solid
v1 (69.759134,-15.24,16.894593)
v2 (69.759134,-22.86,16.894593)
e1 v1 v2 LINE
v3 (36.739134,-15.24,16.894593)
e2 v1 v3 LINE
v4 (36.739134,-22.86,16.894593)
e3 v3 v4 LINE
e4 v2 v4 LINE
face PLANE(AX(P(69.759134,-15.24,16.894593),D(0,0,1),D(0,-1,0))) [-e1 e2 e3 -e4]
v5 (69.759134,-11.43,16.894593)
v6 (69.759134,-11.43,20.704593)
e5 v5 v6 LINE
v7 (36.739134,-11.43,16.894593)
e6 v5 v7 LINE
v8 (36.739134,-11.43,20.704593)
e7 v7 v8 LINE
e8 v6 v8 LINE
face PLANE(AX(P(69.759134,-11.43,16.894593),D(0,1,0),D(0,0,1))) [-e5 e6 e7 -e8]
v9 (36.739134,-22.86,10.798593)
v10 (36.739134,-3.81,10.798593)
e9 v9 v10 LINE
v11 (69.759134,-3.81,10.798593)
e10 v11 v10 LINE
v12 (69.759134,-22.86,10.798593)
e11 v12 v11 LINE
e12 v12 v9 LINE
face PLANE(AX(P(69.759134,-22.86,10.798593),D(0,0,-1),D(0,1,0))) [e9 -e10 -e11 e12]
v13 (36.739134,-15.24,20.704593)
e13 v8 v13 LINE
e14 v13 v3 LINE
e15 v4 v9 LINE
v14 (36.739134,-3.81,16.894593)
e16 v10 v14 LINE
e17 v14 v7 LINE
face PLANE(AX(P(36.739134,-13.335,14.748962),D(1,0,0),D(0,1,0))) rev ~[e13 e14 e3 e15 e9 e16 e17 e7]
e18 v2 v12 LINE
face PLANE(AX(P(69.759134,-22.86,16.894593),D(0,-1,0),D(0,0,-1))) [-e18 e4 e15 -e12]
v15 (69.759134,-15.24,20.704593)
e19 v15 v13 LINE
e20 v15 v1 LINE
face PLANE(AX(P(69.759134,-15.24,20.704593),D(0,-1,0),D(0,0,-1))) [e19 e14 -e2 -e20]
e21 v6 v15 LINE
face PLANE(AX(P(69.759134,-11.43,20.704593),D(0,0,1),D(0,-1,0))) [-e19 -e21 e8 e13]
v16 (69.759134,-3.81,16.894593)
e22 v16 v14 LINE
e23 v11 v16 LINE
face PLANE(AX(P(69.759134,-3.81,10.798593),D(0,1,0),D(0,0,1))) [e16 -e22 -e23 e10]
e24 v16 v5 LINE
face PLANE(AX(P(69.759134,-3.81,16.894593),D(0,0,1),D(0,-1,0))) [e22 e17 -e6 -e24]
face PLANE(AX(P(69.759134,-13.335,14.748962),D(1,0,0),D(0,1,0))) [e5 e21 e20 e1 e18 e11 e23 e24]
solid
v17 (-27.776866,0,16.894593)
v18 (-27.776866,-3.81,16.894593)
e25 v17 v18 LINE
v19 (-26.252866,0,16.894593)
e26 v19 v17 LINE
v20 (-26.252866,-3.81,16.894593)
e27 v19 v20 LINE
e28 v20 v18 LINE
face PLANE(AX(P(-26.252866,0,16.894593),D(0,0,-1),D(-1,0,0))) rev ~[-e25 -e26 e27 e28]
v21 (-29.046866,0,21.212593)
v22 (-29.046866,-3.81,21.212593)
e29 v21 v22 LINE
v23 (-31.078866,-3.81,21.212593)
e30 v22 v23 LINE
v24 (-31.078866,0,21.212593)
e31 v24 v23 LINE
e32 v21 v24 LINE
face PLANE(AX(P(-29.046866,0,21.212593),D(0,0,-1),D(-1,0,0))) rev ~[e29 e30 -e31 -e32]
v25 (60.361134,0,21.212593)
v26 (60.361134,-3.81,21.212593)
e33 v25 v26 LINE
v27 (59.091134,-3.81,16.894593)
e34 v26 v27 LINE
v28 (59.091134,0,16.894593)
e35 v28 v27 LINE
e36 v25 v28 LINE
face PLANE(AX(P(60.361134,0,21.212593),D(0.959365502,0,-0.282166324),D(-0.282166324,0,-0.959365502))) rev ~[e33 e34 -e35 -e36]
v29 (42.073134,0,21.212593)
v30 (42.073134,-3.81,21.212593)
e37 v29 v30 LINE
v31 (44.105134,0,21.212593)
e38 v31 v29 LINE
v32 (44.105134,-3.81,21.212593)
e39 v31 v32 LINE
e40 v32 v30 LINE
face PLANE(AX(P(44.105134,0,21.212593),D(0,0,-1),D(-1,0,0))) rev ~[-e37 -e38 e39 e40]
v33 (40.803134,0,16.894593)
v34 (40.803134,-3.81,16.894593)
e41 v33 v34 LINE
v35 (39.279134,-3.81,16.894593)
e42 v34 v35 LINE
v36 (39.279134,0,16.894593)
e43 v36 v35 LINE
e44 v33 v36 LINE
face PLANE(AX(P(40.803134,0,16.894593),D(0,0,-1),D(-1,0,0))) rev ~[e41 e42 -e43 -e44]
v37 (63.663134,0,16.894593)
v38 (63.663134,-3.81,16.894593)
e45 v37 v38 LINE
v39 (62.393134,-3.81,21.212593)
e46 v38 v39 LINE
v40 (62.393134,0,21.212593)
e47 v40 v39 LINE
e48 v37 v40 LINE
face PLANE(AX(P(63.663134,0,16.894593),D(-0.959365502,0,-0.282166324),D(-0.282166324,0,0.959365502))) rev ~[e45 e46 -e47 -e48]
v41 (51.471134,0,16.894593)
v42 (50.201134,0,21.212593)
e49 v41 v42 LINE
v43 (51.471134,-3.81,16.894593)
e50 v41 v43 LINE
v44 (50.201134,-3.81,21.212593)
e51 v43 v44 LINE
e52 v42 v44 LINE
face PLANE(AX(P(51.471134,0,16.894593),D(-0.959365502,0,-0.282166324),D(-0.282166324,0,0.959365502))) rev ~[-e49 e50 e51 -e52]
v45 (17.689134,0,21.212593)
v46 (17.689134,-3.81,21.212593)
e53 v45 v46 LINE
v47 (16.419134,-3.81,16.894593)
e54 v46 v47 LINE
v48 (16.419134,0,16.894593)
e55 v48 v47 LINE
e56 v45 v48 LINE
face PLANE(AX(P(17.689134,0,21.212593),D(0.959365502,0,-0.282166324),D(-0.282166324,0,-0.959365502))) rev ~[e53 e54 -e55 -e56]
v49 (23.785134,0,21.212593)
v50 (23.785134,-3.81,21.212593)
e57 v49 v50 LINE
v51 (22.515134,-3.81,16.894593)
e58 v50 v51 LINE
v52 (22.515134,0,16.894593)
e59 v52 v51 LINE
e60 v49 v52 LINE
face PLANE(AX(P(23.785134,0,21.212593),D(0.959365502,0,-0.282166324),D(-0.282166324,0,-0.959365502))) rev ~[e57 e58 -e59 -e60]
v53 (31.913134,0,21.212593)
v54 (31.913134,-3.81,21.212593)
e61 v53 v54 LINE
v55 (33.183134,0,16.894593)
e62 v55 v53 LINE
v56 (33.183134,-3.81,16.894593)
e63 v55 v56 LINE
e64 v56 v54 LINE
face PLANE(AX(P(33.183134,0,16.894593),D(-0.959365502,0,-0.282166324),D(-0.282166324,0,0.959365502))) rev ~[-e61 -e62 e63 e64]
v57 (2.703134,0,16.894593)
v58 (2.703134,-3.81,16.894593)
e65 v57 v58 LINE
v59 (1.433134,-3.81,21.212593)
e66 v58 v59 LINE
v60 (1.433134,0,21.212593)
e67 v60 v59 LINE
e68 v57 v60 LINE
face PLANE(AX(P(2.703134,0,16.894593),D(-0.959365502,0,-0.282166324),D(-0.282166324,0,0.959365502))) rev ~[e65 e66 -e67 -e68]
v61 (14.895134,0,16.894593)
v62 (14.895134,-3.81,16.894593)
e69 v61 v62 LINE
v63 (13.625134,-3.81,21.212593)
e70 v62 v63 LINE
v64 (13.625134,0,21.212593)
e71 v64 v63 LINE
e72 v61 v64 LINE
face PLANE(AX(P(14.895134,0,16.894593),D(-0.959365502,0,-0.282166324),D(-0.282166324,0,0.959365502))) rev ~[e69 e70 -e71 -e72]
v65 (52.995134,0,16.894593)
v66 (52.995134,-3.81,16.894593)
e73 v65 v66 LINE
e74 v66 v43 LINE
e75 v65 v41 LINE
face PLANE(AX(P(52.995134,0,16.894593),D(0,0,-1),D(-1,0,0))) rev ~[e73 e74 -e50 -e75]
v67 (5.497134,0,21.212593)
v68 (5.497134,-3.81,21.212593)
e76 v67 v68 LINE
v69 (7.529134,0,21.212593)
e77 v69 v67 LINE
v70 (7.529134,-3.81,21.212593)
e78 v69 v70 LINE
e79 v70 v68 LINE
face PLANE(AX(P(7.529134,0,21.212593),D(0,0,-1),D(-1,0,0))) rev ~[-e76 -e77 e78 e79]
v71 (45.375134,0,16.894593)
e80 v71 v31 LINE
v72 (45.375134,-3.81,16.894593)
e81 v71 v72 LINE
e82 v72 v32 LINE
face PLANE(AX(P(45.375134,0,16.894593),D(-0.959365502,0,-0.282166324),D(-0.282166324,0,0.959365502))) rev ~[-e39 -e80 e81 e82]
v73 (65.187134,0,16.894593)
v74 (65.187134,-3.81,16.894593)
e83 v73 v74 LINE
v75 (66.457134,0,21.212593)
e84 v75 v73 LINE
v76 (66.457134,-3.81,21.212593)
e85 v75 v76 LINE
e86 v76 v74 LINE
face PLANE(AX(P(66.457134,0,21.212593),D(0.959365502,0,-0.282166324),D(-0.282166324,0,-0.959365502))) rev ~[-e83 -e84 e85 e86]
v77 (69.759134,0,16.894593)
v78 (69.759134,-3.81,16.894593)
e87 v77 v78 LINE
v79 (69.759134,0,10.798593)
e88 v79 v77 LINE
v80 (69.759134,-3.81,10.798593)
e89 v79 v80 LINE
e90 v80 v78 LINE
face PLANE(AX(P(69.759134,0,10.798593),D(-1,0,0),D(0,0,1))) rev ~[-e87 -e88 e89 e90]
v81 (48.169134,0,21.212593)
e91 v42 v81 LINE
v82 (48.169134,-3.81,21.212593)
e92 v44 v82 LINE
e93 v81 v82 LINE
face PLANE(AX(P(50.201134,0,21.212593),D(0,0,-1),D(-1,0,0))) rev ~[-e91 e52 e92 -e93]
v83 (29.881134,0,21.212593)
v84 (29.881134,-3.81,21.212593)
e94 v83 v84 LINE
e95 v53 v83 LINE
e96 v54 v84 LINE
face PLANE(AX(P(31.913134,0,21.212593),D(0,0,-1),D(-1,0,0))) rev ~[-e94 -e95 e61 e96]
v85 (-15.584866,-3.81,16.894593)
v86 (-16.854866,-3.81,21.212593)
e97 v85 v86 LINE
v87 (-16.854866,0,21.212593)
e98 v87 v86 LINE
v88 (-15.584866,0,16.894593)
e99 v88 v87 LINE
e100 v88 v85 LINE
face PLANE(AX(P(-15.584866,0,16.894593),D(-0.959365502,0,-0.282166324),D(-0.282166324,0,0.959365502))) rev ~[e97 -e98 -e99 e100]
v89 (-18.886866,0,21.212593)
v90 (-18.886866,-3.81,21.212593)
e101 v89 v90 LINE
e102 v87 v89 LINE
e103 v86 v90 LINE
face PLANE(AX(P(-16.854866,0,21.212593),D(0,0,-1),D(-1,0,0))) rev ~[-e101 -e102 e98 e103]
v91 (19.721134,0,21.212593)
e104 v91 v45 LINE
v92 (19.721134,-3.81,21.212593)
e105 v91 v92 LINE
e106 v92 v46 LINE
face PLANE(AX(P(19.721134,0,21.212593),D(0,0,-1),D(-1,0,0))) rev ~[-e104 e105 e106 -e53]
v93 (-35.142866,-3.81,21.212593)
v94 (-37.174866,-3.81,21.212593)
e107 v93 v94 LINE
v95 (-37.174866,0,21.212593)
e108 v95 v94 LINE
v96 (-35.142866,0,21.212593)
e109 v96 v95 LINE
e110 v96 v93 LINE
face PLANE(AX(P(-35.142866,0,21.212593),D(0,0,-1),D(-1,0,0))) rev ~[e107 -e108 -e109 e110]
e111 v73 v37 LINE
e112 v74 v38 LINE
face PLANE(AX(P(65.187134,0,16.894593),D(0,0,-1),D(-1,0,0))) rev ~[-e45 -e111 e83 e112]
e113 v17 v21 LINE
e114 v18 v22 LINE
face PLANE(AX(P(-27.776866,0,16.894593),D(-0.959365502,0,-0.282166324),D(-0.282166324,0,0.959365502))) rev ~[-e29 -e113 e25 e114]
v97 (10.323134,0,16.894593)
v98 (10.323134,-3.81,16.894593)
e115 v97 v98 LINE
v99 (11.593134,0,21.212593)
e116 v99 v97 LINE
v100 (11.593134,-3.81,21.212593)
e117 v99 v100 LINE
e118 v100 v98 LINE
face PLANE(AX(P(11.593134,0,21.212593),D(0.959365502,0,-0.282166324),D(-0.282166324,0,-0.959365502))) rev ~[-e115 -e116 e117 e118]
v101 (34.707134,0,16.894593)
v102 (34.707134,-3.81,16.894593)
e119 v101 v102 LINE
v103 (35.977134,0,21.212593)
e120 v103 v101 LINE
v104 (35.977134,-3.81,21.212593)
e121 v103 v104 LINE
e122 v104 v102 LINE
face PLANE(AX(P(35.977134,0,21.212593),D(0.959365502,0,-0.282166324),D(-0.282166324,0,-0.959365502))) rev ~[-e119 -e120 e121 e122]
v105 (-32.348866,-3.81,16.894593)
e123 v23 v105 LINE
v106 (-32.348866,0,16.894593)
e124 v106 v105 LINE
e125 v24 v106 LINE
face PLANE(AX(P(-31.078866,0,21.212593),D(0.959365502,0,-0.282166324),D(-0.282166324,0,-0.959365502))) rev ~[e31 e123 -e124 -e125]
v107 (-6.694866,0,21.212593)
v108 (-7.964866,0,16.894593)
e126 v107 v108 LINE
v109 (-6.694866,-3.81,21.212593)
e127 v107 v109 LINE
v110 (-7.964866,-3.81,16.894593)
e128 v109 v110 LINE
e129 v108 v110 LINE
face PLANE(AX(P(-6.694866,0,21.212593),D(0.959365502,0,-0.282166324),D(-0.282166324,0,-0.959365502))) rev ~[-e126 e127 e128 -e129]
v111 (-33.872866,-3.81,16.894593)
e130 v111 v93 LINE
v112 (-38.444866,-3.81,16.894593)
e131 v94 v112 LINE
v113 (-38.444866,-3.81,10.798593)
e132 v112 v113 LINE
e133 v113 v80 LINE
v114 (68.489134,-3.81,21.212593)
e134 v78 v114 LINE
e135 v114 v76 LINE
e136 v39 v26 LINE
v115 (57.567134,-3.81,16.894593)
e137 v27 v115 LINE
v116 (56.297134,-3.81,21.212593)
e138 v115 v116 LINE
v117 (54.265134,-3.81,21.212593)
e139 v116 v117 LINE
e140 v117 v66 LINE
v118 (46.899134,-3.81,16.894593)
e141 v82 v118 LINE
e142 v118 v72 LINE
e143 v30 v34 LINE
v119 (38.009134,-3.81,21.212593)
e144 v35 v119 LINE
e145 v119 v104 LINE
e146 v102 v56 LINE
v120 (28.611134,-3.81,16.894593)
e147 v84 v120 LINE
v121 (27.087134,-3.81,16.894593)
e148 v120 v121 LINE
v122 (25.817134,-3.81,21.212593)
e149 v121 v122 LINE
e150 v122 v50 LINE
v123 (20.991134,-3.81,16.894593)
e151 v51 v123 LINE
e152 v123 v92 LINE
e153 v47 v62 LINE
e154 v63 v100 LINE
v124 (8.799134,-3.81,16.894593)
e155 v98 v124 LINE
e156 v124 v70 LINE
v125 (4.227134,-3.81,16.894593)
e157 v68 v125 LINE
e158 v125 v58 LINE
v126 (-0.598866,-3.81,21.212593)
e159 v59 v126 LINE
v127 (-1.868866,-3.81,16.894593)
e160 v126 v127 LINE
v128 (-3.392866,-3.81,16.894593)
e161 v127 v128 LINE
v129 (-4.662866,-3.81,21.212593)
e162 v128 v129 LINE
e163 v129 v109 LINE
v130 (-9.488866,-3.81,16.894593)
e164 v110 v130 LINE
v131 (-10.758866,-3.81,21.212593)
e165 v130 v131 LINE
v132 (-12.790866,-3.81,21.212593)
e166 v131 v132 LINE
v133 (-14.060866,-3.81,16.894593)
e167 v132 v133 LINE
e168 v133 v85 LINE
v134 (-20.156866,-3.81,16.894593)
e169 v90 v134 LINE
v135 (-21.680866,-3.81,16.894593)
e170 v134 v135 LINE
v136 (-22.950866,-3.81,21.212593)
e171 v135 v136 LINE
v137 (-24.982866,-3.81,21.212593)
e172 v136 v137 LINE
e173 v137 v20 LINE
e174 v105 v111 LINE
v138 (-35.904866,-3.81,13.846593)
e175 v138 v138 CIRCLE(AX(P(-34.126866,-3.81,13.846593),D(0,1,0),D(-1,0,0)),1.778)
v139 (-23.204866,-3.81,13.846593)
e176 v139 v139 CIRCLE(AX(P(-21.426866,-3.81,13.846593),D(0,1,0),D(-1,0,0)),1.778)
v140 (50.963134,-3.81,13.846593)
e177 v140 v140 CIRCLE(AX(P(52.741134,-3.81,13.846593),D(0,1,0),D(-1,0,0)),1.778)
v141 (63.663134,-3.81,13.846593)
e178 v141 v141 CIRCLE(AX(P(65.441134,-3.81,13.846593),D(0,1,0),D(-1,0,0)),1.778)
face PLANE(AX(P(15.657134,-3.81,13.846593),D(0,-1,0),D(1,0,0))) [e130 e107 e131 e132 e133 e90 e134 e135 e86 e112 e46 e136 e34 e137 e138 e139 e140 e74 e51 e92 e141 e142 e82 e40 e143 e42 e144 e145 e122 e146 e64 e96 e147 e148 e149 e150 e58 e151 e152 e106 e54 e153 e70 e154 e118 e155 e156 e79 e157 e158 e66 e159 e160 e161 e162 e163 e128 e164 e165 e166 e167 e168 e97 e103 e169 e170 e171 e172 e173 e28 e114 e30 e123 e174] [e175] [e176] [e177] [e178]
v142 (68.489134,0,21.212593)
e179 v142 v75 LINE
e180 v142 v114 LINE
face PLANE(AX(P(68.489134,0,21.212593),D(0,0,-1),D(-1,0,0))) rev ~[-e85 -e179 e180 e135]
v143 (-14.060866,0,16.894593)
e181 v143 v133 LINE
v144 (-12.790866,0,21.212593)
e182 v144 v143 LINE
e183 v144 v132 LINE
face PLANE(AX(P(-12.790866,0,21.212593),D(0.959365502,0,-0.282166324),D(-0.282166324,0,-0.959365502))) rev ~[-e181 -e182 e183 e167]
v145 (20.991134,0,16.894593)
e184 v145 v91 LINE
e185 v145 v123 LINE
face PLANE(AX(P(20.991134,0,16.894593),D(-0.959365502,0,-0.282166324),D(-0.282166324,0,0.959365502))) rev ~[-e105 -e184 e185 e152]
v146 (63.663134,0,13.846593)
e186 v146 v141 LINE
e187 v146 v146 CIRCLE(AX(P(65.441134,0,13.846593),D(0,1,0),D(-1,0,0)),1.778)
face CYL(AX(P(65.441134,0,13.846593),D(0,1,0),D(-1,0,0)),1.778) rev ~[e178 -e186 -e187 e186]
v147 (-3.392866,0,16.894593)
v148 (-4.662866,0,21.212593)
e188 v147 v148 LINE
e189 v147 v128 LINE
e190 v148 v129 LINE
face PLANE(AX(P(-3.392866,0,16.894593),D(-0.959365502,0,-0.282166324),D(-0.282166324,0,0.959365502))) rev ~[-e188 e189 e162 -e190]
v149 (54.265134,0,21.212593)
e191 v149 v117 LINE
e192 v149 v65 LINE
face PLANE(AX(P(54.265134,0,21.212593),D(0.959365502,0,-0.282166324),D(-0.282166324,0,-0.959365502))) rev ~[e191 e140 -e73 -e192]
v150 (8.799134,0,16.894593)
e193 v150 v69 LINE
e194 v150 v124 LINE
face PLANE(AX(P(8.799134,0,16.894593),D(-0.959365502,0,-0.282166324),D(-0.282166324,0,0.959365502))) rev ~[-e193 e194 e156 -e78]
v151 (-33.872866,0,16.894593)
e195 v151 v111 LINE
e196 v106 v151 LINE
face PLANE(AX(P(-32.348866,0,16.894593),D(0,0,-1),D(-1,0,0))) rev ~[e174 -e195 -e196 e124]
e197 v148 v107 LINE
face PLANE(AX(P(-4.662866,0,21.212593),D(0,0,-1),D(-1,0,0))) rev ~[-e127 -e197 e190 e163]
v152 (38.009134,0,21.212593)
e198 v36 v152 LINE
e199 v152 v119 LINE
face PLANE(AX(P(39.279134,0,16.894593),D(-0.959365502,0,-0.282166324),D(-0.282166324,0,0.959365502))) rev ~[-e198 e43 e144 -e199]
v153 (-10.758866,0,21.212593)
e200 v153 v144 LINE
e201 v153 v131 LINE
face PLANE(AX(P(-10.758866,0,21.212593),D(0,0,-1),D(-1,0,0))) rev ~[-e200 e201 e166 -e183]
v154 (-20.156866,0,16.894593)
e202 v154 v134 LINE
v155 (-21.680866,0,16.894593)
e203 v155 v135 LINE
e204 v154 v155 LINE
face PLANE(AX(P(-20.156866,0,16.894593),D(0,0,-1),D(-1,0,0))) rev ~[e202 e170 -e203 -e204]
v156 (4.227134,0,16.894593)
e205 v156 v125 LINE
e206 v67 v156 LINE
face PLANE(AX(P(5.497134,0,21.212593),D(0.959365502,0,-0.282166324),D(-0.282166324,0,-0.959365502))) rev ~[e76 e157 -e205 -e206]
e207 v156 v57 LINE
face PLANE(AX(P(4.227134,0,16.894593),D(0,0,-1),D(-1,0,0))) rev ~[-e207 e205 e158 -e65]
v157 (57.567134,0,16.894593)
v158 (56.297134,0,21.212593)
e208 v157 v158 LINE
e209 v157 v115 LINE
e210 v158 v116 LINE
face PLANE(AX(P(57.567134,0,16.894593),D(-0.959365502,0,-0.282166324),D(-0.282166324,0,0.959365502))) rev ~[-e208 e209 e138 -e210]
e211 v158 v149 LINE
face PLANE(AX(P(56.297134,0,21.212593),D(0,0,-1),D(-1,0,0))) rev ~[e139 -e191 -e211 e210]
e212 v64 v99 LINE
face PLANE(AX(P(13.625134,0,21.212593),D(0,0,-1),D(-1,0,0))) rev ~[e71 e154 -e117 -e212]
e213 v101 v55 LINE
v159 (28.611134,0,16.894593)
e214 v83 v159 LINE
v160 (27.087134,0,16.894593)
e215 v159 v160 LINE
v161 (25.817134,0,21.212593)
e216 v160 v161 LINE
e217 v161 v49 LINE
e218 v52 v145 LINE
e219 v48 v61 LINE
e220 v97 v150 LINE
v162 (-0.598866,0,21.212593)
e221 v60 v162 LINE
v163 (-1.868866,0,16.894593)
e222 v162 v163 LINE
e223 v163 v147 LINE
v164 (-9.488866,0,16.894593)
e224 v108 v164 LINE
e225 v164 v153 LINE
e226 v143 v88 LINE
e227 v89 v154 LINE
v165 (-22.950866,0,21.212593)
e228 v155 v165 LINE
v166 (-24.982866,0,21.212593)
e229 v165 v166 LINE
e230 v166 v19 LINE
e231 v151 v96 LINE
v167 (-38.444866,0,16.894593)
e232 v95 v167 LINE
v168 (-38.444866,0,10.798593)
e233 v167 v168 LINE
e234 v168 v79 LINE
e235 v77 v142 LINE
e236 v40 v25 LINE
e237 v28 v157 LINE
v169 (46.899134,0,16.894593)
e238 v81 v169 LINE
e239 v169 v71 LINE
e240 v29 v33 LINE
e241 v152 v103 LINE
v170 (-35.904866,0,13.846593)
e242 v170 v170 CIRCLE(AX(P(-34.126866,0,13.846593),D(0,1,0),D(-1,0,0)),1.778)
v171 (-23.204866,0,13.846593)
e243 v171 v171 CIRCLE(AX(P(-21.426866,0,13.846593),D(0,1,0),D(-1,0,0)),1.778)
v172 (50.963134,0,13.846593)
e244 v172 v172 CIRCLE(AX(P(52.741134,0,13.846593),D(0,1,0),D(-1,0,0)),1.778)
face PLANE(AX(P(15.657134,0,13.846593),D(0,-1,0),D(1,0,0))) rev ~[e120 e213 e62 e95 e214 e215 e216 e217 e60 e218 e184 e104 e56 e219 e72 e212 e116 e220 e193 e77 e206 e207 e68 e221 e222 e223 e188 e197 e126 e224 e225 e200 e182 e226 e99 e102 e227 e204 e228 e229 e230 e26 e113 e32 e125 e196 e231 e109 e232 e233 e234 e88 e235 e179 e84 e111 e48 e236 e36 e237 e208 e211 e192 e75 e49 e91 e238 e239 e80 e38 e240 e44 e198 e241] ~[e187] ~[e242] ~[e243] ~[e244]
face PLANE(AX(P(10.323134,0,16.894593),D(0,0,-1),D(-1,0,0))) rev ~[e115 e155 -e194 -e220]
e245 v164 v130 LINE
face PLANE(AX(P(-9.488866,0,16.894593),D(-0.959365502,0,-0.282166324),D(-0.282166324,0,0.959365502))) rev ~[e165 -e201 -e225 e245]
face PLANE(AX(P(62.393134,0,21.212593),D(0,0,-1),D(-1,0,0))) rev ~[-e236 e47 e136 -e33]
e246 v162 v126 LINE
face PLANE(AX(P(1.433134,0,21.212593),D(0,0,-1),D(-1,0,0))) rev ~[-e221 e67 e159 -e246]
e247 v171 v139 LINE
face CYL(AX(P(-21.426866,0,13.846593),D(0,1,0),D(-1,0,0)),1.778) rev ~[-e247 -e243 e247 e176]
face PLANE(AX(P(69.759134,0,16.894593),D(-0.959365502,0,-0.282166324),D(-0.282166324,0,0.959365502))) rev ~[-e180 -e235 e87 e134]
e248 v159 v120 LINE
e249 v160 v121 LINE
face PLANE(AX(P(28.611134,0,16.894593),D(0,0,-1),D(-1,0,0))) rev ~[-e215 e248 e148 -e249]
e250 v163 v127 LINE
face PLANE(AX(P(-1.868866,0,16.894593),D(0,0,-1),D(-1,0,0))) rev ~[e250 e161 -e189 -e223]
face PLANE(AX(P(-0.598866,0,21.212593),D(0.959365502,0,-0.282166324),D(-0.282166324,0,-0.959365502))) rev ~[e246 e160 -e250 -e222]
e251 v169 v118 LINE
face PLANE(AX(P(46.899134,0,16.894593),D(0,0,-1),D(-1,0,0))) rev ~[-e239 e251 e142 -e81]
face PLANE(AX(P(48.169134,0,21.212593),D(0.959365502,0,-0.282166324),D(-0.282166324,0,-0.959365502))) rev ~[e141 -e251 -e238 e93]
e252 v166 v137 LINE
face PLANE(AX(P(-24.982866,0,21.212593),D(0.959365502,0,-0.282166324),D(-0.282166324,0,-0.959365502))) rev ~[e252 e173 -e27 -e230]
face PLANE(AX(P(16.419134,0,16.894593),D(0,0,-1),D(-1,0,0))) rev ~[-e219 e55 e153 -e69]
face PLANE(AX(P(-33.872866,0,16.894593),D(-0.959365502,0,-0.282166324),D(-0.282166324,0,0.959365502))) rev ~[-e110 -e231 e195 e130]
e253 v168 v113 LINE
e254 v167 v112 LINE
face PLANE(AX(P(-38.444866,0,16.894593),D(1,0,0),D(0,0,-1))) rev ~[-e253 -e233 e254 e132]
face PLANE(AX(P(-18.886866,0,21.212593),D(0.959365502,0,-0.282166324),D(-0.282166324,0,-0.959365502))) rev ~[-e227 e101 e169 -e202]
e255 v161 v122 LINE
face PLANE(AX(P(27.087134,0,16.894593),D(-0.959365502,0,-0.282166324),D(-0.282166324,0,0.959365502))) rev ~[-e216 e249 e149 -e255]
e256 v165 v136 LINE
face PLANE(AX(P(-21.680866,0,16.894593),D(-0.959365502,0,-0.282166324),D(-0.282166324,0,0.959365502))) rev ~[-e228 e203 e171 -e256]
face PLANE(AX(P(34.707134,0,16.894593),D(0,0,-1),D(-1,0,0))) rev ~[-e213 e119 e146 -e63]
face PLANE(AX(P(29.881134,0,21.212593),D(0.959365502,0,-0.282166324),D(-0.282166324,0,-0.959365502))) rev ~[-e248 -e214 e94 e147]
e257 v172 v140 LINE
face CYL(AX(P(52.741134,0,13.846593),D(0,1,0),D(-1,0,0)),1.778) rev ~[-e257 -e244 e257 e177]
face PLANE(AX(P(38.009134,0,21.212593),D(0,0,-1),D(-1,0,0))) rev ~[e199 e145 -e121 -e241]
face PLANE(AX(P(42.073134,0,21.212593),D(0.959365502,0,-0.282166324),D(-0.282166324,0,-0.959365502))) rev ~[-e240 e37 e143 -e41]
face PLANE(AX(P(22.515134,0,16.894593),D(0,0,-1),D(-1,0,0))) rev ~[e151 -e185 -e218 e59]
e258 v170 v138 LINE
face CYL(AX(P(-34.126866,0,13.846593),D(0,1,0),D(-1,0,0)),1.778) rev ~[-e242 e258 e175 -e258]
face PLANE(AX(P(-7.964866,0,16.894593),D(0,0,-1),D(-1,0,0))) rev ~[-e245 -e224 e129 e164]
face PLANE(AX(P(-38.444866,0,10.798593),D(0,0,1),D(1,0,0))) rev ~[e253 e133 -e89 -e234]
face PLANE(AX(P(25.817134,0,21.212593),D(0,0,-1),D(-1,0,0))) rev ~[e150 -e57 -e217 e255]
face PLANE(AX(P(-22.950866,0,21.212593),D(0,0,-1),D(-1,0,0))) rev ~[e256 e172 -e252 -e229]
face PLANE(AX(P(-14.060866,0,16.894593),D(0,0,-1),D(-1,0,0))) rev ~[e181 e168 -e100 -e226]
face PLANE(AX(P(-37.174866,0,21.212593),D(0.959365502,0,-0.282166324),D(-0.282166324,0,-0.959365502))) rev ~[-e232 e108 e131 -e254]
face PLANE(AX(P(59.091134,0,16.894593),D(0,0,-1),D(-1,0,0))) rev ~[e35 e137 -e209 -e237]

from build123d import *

# Parameters (mm, degrees)
F1_DEPTH = 3.81
F2_R     = 1.778
F3_DEPTH = 3.81
F6_DEPTH = 33.02


with BuildPart() as f1:
    # F0 (on Front) → F1 (new body)
    with BuildSketch(Plane.XZ):
        Polygon((-38.4448663006, 16.8945933835), (-38.4448663006, 10.7985933835), (69.7591336994, 10.7985933835), (69.7591336994, 16.8945933835), (65.1871336994, 16.8945933835), (63.6631336994, 16.8945933835), (59.0911336994, 16.8945933835), (57.5671336994, 16.8945933835), (52.9951336994, 16.8945933835), (51.4711336994, 16.8945933835), (46.8991336994, 16.8945933835), (45.3751336994, 16.8945933835), (40.8031336994, 16.8945933835), (39.2791336994, 16.8945933835), (34.7071336994, 16.8945933835), (33.1831336994, 16.8945933835), (28.6111336994, 16.8945933835), (27.0871336994, 16.8945933835), (22.5151336994, 16.8945933835), (20.9911336994, 16.8945933835), (16.4191336994, 16.8945933835), (14.8951336994, 16.8945933835), (10.3231336994, 16.8945933835), (8.7991336994, 16.8945933835), (4.2271336994, 16.8945933835), (2.7031336994, 16.8945933835), (-1.8688663006, 16.8945933835), (-3.3928663006, 16.8945933835), (-7.9648663006, 16.8945933835), (-9.4888663006, 16.8945933835), (-14.0608663006, 16.8945933835), (-15.5848663006, 16.8945933835), (-20.1568663006, 16.8945933835), (-21.6808663006, 16.8945933835), (-26.2528663006, 16.8945933835), (-27.7768663006, 16.8945933835), (-32.3488663006, 16.8945933835), (-33.8728663006, 16.8945933835), align=None)
        Polygon((-37.1748663006, 21.2125933835), (-38.4448663006, 16.8945933835), (-33.8728663006, 16.8945933835), (-35.1428663006, 21.2125933835), align=None)
        Polygon((65.1871336994, 16.8945933835), (69.7591336994, 16.8945933835), (68.4891336994, 21.2125933835), (66.4571336994, 21.2125933835), align=None)
        Polygon((-31.0788663006, 21.2125933835), (-32.3488663006, 16.8945933835), (-27.7768663006, 16.8945933835), (-29.0468663006, 21.2125933835), align=None)
        Polygon((59.0911336994, 16.8945933835), (63.6631336994, 16.8945933835), (62.3931336994, 21.2125933835), (60.3611336994, 21.2125933835), align=None)
        Polygon((-24.9828663006, 21.2125933835), (-26.2528663006, 16.8945933835), (-21.6808663006, 16.8945933835), (-22.9508663006, 21.2125933835), align=None)
        Polygon((52.9951336994, 16.8945933835), (57.5671336994, 16.8945933835), (56.2971336994, 21.2125933835), (54.2651336994, 21.2125933835), align=None)
        Polygon((-18.8868663006, 21.2125933835), (-20.1568663006, 16.8945933835), (-15.5848663006, 16.8945933835), (-16.8548663006, 21.2125933835), align=None)
        Polygon((46.8991336994, 16.8945933835), (51.4711336994, 16.8945933835), (50.2011336994, 21.2125933835), (48.1691336994, 21.2125933835), align=None)
        Polygon((-12.7908663006, 21.2125933835), (-14.0608663006, 16.8945933835), (-9.4888663006, 16.8945933835), (-10.7588663006, 21.2125933835), align=None)
        Polygon((40.8031336994, 16.8945933835), (45.3751336994, 16.8945933835), (44.1051336994, 21.2125933835), (42.0731336994, 21.2125933835), align=None)
        Polygon((-6.6948663006, 21.2125933835), (-7.9648663006, 16.8945933835), (-3.3928663006, 16.8945933835), (-4.6628663006, 21.2125933835), align=None)
        Polygon((34.7071336994, 16.8945933835), (39.2791336994, 16.8945933835), (38.0091336994, 21.2125933835), (35.9771336994, 21.2125933835), align=None)
        Polygon((-0.5988663006, 21.2125933835), (-1.8688663006, 16.8945933835), (2.7031336994, 16.8945933835), (1.4331336994, 21.2125933835), align=None)
        Polygon((28.6111336994, 16.8945933835), (33.1831336994, 16.8945933835), (31.9131336994, 21.2125933835), (29.8811336994, 21.2125933835), align=None)
        Polygon((5.4971336994, 21.2125933835), (4.2271336994, 16.8945933835), (8.7991336994, 16.8945933835), (7.5291336994, 21.2125933835), align=None)
        Polygon((22.5151336994, 16.8945933835), (27.0871336994, 16.8945933835), (25.8171336994, 21.2125933835), (23.7851336994, 21.2125933835), align=None)
        Polygon((11.5931336994, 21.2125933835), (10.3231336994, 16.8945933835), (14.8951336994, 16.8945933835), (13.6251336994, 21.2125933835), align=None)
        Polygon((16.4191336994, 16.8945933835), (20.9911336994, 16.8945933835), (19.7211336994, 21.2125933835), (17.6891336994, 21.2125933835), align=None)
    extrude(amount=F1_DEPTH)

    # F2 (on face) → F3 (cut, through all)
    with BuildSketch(Plane(origin=(0, 0, 0), x_dir=(-1, 0, 0), z_dir=(0, 1, 0))):
        with Locations((-52.7411336994, 13.8465933835)):
            Circle(F2_R)
        with Locations((-65.4411336994, 13.8465933835)):
            Circle(F2_R)
        with Locations((21.4268663006, 13.8465933835)):
            Circle(F2_R)
        with Locations((34.1268663006, 13.8465933835)):
            Circle(F2_R)
    extrude(amount=-F3_DEPTH, mode=Mode.SUBTRACT)


with BuildPart() as f6:
    # F5 (on plane+point) → F6 (new body)
    with BuildSketch(Plane.YZ.offset(69.7591336994)):
        Polygon((-22.86, 10.7985933835), (-3.81, 10.7985933835), (-3.81, 16.8945933835), (-11.43, 16.8945933835), (-11.43, 20.7045933835), (-15.24, 20.7045933835), (-15.24, 16.8945933835), (-22.86, 16.8945933835), align=None)
    extrude(amount=-F6_DEPTH)


solid = Compound([f1.part, f6.part])
